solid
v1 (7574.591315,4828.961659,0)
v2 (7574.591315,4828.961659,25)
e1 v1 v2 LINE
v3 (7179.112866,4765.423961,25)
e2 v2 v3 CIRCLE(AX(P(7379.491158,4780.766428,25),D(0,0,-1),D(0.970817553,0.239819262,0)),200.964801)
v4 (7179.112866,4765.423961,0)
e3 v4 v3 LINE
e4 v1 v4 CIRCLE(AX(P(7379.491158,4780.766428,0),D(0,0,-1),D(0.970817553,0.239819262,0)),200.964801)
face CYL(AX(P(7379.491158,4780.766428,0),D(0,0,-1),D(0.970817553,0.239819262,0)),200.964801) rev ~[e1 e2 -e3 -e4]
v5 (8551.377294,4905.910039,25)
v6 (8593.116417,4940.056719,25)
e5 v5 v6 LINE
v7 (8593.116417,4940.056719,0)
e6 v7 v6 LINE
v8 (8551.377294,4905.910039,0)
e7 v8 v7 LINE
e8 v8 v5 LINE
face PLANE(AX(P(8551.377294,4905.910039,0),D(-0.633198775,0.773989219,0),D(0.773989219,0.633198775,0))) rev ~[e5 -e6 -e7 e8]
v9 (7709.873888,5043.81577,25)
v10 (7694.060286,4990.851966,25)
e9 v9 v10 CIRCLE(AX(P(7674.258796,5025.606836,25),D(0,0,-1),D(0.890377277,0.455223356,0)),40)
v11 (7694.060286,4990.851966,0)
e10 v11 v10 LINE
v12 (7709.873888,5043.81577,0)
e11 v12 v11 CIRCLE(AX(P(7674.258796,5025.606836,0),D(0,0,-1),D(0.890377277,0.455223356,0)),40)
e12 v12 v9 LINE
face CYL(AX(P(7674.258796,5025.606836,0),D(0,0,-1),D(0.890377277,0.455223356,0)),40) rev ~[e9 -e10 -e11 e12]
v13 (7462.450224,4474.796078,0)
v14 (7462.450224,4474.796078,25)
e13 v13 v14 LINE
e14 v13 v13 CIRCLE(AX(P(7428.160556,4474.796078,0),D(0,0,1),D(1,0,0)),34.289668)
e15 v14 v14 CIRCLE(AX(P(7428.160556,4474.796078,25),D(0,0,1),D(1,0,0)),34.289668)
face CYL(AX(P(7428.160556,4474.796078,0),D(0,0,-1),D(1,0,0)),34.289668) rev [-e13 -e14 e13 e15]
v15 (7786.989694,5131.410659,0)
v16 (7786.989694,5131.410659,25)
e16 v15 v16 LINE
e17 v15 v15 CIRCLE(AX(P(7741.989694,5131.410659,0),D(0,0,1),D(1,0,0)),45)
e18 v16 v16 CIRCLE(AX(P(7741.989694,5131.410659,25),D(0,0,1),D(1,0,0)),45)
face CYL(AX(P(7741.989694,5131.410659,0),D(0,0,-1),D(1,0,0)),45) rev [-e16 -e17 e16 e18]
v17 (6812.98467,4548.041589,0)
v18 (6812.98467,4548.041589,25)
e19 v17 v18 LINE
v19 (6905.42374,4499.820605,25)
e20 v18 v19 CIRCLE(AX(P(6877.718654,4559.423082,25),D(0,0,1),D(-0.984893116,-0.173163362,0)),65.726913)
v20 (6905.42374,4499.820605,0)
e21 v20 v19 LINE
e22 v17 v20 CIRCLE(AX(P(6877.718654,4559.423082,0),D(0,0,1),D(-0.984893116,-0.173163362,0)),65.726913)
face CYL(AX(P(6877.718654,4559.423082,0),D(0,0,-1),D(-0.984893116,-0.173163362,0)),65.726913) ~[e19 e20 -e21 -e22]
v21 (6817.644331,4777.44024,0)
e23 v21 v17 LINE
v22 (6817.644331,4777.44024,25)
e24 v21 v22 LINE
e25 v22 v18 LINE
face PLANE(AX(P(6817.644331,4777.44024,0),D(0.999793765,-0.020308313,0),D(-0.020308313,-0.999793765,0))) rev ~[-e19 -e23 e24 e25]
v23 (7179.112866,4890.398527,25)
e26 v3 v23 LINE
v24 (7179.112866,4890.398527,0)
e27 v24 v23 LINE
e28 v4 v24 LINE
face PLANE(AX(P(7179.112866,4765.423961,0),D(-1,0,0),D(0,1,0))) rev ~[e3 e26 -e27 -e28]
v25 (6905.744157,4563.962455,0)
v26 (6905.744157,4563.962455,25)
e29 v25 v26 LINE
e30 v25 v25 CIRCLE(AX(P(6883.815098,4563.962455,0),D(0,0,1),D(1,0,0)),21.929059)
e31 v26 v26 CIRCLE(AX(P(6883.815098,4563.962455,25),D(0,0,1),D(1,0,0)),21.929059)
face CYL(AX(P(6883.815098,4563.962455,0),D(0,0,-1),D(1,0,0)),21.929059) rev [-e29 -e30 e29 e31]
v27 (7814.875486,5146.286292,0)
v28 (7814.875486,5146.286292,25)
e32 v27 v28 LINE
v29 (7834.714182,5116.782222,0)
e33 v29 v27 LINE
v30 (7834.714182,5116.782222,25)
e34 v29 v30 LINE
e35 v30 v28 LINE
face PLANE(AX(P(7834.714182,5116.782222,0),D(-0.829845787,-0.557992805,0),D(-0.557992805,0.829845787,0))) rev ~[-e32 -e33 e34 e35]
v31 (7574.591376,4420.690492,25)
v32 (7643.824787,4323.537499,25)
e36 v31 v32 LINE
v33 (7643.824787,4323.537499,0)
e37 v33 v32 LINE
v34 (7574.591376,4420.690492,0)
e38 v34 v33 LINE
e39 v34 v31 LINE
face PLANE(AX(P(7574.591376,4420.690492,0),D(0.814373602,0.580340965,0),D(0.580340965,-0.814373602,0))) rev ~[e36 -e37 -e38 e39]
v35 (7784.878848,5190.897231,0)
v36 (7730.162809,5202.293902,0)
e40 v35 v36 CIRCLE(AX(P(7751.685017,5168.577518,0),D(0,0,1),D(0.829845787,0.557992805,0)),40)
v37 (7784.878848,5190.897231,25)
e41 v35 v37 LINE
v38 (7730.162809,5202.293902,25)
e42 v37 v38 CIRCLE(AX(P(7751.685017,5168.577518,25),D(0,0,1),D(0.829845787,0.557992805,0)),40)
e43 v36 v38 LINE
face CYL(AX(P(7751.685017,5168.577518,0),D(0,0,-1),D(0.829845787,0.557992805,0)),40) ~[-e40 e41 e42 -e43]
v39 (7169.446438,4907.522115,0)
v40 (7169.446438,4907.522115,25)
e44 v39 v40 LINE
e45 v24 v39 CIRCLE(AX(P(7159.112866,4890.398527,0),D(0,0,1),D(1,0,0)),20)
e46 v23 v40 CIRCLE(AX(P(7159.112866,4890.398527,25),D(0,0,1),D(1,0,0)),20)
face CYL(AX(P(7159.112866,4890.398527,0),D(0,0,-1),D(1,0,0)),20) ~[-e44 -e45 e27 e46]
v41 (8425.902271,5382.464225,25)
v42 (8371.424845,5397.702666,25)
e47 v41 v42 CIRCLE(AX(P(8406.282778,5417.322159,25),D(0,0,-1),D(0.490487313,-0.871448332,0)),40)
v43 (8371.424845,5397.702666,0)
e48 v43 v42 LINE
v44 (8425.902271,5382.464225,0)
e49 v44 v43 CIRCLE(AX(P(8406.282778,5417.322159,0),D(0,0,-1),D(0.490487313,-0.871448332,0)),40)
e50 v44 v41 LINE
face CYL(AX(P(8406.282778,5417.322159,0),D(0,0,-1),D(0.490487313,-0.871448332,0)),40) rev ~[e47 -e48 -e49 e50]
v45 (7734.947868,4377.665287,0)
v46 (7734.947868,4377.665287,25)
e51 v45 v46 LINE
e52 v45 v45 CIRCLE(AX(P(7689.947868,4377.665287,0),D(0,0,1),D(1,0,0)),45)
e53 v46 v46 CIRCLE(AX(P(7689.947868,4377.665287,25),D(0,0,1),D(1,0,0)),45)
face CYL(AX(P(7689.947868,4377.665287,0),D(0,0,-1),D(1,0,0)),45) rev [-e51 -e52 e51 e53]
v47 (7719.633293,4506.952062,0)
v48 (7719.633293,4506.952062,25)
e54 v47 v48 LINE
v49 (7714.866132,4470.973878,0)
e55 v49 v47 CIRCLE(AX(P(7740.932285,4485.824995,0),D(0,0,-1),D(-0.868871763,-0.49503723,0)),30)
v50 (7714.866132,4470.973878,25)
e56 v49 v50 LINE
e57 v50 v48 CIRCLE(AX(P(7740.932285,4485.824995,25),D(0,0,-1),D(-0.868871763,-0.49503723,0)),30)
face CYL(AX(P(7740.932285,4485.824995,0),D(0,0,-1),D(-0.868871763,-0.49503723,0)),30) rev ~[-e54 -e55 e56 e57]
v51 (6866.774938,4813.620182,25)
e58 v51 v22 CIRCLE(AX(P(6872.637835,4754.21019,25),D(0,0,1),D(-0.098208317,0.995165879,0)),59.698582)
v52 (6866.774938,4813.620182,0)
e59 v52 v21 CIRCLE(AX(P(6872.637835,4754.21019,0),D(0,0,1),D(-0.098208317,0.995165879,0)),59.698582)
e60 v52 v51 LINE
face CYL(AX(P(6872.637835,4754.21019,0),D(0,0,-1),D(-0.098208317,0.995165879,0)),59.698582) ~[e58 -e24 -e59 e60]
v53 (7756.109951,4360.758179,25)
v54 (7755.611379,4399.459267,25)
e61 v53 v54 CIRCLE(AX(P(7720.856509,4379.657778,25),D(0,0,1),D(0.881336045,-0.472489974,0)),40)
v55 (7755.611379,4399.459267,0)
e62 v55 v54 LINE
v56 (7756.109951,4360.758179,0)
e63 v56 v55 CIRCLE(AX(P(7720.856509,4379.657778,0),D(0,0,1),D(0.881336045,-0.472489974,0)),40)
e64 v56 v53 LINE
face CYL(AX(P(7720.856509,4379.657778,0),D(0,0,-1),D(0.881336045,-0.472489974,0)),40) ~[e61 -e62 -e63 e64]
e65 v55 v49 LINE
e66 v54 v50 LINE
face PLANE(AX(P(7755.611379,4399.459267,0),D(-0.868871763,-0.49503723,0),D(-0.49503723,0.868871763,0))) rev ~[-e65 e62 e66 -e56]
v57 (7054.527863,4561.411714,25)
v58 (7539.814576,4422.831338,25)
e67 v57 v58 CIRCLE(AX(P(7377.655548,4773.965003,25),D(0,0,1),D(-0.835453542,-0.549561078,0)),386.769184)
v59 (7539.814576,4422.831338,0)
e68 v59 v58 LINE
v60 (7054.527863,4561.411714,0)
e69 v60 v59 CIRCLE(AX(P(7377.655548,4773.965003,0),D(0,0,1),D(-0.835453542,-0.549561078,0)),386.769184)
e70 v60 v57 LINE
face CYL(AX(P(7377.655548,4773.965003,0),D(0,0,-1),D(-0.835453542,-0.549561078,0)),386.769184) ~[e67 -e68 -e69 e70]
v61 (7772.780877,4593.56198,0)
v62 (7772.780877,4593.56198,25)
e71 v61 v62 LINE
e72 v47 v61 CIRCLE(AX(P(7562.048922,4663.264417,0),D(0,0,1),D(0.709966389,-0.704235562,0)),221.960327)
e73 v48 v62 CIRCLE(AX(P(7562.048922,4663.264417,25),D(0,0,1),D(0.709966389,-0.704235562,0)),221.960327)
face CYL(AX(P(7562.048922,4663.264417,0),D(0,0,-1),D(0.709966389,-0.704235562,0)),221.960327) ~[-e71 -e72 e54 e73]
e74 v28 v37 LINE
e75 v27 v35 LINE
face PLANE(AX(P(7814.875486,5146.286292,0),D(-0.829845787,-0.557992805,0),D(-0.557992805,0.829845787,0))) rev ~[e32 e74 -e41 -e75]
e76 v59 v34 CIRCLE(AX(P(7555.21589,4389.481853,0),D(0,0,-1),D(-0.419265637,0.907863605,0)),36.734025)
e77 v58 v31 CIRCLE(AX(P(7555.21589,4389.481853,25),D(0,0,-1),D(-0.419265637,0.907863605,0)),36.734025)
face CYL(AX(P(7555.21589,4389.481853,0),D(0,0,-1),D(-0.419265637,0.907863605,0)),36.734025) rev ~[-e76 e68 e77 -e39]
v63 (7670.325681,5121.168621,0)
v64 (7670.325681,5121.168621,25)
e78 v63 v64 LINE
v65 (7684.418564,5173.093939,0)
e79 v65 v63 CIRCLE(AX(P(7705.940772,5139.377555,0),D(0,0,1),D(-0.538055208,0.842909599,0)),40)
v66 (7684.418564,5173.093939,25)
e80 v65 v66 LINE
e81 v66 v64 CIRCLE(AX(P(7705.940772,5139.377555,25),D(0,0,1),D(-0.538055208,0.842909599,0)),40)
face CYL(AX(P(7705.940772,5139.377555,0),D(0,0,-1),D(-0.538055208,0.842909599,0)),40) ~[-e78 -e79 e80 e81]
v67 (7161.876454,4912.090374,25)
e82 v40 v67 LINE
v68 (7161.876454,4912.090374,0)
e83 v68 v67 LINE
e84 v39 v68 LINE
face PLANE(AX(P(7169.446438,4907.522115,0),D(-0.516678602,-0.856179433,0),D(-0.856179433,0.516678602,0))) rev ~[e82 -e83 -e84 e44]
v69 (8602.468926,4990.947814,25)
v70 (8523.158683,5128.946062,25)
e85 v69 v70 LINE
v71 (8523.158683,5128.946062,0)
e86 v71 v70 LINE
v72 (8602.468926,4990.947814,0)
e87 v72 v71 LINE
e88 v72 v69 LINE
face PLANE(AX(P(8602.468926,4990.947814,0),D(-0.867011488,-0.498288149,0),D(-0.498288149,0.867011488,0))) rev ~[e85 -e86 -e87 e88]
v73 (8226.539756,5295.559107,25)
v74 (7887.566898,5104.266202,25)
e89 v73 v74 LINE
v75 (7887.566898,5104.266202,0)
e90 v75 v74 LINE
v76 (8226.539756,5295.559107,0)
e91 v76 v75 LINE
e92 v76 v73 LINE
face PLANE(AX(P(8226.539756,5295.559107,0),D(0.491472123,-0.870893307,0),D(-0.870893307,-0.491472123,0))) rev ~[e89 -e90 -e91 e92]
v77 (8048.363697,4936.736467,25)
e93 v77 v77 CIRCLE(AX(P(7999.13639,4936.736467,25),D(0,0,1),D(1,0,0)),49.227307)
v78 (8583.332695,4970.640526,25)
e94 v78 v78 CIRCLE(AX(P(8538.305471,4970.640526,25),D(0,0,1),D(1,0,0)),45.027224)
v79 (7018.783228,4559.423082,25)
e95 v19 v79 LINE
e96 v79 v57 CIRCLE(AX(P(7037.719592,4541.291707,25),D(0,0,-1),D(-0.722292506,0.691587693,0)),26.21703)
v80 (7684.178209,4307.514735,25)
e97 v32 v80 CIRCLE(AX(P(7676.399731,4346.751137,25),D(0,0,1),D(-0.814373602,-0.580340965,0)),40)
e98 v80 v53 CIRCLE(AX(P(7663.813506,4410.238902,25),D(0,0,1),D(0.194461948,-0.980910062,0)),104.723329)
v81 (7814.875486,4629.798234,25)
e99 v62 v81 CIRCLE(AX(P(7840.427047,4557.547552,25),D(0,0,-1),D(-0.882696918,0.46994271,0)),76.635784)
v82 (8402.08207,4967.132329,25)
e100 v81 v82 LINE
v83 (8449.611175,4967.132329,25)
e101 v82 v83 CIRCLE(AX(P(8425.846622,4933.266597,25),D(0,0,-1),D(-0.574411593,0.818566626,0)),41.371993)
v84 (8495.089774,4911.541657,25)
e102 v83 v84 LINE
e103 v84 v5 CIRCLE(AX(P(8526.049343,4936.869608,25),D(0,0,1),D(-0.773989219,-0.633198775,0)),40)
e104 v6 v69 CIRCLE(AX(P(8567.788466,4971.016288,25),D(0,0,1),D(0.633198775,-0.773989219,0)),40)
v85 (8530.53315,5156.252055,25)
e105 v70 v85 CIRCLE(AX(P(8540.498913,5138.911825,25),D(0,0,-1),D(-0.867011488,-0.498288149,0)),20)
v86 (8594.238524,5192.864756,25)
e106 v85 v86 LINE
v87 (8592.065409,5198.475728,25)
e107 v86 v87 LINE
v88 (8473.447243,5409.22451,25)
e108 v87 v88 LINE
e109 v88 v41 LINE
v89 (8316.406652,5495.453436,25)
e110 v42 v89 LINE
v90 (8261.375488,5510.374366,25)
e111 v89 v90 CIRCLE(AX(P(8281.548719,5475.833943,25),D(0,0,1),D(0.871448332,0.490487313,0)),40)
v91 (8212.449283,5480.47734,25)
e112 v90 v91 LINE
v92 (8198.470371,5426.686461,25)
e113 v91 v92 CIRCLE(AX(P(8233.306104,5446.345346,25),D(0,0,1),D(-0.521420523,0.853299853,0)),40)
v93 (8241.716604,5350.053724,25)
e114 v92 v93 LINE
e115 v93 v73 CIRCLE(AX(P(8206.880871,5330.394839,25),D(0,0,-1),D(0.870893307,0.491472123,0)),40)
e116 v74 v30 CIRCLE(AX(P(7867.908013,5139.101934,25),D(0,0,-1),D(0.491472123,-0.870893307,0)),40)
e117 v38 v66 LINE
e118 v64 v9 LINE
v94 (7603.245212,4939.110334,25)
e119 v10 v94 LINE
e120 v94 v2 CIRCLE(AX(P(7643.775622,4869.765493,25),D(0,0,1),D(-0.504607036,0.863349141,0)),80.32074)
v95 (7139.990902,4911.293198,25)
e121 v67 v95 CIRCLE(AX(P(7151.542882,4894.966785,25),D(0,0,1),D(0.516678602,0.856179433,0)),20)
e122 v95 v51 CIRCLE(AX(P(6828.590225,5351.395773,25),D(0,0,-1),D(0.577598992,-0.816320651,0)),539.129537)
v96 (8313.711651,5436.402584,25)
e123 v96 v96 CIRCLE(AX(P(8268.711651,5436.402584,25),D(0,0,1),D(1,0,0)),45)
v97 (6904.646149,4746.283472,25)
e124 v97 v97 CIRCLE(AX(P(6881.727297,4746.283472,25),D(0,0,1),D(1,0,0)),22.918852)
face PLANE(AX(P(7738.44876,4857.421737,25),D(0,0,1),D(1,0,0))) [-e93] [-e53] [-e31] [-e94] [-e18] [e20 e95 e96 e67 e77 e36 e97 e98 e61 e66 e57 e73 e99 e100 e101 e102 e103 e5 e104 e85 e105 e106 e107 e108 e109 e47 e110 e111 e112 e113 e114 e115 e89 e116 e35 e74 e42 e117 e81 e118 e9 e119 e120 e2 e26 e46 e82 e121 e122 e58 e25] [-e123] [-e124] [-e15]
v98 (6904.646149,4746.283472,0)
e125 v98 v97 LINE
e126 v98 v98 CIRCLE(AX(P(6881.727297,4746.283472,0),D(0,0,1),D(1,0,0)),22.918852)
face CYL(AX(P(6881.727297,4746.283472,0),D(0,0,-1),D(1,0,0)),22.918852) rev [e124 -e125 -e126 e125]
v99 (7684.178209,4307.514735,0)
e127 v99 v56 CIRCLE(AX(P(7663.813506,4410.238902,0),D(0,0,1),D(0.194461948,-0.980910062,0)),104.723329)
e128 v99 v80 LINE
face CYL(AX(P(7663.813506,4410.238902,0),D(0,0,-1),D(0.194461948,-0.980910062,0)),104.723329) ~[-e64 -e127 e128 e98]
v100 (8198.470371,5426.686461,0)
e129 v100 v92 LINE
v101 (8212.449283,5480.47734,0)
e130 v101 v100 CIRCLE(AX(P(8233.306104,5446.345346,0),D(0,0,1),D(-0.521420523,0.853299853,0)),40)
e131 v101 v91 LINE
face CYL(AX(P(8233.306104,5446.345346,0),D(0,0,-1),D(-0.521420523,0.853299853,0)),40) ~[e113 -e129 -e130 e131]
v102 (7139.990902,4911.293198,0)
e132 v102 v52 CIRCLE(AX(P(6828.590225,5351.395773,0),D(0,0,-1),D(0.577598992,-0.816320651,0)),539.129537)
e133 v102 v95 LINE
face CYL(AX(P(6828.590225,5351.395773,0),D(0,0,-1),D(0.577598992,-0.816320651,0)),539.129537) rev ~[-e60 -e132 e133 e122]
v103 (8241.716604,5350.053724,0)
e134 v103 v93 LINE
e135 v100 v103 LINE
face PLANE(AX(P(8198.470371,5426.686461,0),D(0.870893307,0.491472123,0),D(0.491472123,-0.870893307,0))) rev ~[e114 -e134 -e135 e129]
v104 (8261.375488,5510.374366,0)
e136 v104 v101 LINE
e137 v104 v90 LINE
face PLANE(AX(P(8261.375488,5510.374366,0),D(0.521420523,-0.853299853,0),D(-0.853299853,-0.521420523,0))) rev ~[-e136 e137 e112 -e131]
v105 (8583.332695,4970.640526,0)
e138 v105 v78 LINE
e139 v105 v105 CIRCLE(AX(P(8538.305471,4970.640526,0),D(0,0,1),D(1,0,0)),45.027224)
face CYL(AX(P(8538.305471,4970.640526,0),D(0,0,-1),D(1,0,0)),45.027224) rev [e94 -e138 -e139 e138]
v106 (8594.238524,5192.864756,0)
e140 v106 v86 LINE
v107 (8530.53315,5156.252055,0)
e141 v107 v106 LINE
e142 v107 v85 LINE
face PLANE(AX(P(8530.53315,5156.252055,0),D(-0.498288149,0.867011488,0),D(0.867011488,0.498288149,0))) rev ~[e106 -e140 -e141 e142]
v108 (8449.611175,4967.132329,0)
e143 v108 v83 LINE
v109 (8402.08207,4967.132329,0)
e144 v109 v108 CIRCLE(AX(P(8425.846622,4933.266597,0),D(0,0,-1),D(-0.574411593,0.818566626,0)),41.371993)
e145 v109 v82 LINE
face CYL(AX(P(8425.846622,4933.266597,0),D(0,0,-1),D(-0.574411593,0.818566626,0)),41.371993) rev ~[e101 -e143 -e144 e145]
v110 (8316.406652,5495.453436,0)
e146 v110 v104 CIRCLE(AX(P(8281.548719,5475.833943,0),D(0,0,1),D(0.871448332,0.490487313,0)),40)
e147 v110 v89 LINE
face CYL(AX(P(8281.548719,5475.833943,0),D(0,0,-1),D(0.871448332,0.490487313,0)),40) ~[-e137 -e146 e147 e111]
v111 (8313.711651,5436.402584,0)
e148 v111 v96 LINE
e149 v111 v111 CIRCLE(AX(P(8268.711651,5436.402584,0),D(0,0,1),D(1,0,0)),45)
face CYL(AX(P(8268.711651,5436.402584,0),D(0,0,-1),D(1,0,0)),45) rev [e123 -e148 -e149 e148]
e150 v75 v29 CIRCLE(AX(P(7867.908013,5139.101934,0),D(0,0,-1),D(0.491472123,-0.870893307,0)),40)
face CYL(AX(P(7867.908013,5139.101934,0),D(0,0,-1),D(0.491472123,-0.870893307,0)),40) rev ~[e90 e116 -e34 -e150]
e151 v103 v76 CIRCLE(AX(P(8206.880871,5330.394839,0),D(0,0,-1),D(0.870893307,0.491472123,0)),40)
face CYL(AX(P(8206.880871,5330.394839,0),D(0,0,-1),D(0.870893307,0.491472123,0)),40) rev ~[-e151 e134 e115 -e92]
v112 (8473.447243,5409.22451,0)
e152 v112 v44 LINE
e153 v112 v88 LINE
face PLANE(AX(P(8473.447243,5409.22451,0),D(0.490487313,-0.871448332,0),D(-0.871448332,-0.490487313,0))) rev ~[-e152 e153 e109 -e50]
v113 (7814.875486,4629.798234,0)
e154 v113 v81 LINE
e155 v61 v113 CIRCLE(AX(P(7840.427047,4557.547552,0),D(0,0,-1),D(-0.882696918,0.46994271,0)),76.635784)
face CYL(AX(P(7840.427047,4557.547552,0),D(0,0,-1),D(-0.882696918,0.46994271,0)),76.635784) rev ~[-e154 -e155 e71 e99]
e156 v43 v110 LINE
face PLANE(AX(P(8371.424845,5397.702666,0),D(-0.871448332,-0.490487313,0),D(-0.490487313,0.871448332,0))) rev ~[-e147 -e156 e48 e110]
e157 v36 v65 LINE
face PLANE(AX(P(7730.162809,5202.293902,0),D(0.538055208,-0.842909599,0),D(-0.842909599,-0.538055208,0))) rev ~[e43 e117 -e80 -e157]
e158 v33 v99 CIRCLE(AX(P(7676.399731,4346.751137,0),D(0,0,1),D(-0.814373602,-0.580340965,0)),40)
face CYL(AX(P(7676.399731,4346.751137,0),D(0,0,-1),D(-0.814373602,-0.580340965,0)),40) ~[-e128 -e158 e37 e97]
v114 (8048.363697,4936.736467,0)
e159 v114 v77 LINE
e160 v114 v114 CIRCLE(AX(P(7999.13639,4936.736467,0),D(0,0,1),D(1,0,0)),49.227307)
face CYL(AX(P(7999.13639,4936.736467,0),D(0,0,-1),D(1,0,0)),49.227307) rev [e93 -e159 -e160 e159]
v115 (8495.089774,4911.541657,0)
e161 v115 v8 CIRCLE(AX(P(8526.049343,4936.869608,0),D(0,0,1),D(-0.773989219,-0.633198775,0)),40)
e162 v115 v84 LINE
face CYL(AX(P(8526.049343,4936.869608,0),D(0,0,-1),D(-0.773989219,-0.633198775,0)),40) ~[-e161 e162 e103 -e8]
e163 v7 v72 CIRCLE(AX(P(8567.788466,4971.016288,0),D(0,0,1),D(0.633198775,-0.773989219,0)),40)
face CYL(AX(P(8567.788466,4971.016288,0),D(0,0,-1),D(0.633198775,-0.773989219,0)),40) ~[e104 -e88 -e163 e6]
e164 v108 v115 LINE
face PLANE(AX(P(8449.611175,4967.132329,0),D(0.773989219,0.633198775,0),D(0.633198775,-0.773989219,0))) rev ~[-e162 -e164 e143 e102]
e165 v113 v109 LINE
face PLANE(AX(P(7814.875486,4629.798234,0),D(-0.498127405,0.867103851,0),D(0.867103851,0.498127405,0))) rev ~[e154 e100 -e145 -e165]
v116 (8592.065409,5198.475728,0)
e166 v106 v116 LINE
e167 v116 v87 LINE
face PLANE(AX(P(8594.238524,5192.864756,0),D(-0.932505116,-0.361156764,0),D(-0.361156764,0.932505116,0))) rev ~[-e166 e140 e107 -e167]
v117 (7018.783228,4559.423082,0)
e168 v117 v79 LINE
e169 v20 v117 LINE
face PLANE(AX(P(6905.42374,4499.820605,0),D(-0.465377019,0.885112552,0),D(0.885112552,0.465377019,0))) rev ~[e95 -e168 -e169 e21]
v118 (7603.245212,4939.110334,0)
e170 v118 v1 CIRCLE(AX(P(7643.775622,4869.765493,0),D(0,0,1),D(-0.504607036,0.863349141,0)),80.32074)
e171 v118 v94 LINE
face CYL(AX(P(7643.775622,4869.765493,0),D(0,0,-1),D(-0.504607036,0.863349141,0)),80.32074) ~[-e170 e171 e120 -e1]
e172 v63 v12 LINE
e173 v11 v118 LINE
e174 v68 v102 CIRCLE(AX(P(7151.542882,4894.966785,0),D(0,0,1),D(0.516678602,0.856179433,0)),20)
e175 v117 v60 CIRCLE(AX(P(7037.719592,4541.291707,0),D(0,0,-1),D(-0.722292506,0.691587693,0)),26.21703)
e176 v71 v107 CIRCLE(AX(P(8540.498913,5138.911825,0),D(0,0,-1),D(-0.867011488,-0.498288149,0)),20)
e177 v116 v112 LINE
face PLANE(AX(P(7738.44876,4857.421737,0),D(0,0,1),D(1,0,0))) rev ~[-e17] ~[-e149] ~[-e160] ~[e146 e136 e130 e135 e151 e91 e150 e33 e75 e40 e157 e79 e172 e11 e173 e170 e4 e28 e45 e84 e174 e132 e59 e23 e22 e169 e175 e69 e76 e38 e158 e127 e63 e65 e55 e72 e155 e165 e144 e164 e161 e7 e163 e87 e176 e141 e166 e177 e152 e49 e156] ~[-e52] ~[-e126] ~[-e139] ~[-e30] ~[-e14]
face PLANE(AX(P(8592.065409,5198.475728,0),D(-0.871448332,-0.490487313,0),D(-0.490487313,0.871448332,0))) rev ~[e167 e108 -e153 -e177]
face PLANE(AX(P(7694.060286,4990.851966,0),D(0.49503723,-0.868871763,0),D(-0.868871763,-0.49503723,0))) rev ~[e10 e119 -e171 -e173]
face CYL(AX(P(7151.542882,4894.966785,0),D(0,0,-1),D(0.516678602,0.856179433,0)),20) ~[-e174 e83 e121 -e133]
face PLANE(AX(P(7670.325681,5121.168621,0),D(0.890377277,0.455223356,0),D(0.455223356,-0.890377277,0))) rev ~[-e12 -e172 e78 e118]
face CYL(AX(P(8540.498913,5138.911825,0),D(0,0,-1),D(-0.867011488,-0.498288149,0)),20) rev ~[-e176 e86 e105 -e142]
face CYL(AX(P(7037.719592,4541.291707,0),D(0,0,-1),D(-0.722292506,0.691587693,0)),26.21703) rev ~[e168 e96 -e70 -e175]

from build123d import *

# Parameters (mm, degrees)
ESBO_O1_R                = 49.227306986
ESBO_O1_R_2              = 45.027223586
ESBO_O1_R_3              = 34.289668097
ESBO_O1_R_4              = 45
ESBO_O1_R_5              = 22.918852427
ESBO_O1_R_6              = 21.929059038
RESSALTO_EXTRUS_O1_DEPTH = 25


with BuildPart() as part:
    # Esboço1 → Ressalto-extrusão1 (new body)
    with BuildSketch(Plane.XY):
        with BuildLine():
            Line((8592.065409332, 5198.475728322), (8473.447242619, 5409.224509958))
            Line((8473.447242619, 5409.224509958), (8425.902270717, 5382.464225227))
            ThreePointArc((8425.902270717, 5382.464225227), (8395.507573393, 5378.800801313), (8371.424844911, 5397.702666012))
            Line((8371.424844911, 5397.702666012), (8316.40665203, 5495.453435889))
            ThreePointArc((8316.40665203, 5495.453435889), (8292.016223819, 5514.440048301), (8261.375488437, 5510.374365776))
            Line((8261.375488437, 5510.374365776), (8212.449282848, 5480.477339997))
            ThreePointArc((8212.449282848, 5480.477339997), (8194.592026382, 5456.406171561), (8198.470371474, 5426.686460968))
            Line((8198.470371474, 5426.686460968), (8241.716603514, 5350.053723792))
            ThreePointArc((8241.716603514, 5350.053723792), (8245.414384596, 5319.663187185), (8226.539756155, 5295.559106588))
            Line((8226.539756155, 5295.559106588), (7887.56689815, 5104.266202112))
            ThreePointArc((7887.56689815, 5104.266202112), (7858.690563236, 5100.178437433), (7834.71418175, 5116.782222212))
            Line((7834.71418175, 5116.782222212), (7814.875485509, 5146.286291727))
            Line((7814.875485509, 5146.286291727), (7784.878848462, 5190.897230564))
            ThreePointArc((7784.878848462, 5190.897230564), (7759.841470177, 5207.737092835), (7730.162808648, 5202.293902357))
            Line((7730.162808648, 5202.293902357), (7684.418563925, 5173.093939339))
            ThreePointArc((7684.418563925, 5173.093939339), (7667.337308495, 5149.854796663), (7670.325681174, 5121.168621105))
            Line((7670.325681174, 5121.168621105), (7709.87388758, 5043.81577039))
            ThreePointArc((7709.87388758, 5043.81577039), (7712.586860583, 5014.16308224), (7694.060285678, 4990.851965593))
            Line((7694.060285678, 4990.851965593), (7603.245211769, 4939.110334103))
            ThreePointArc((7603.245211769, 4939.110334103), (7566.042022636, 4889.986984267), (7574.591315044, 4828.961658539))
            ThreePointArc((7574.591315044, 4828.961658539), (7411.369433565, 4582.346099234), (7179.112865973, 4765.423961074))
            Line((7179.112865973, 4765.423961074), (7179.112865973, 4890.398526732))
            ThreePointArc((7179.112865973, 4890.398526732), (7176.529401806, 4900.23032614), (7169.446438014, 4907.522115401))
            Line((7169.446438014, 4907.522115401), (7161.87645403, 4912.09037363))
            ThreePointArc((7161.87645403, 4912.09037363), (7150.814869868, 4914.953530528), (7139.99090215, 4911.293197972))
            ThreePointArc((7139.99090215, 4911.293197972), (7010.077113446, 4843.731348706), (6866.77493755, 4813.620182095))
            ThreePointArc((6866.77493755, 4813.620182095), (6837.238365249, 4802.28095325), (6817.644330707, 4777.440240208))
            Line((6817.644330707, 4777.440240208), (6812.984670077, 4548.041588809))
            ThreePointArc((6812.984670077, 4548.041588809), (6847.319630156, 4501.148504338), (6905.423739633, 4499.820604987))
            Line((6905.423739633, 4499.820604987), (7018.783227578, 4559.423081996))
            ThreePointArc((7018.783227578, 4559.423081996), (7036.263274842, 4567.468257298), (7054.527862902, 4561.411713646))
            ThreePointArc((7054.527862902, 4561.411713646), (7271.453583291, 4402.062402746), (7539.814575965, 4422.831337767))
            ThreePointArc((7539.814575965, 4422.831337767), (7557.472949269, 4426.146472293), (7574.591376366, 4420.690492236))
            Line((7574.591376366, 4420.690492236), (7643.824786877, 4323.537498877))
            ThreePointArc((7643.824786877, 4323.537498877), (7661.638348099, 4309.574510741), (7684.1782089, 4307.51473498))
            ThreePointArc((7684.1782089, 4307.51473498), (7726.117997258, 4326.065711445), (7756.109950671, 4360.758179011))
            ThreePointArc((7756.109950671, 4360.758179011), (7760.853190032, 4380.173039859), (7755.611379393, 4399.459267136))
            Line((7755.611379393, 4399.459267136), (7714.866132222, 4470.97387784))
            ThreePointArc((7714.866132222, 4470.97387784), (7711.192216927, 4489.765596658), (7719.63329346, 4506.952061587))
            ThreePointArc((7719.63329346, 4506.952061587), (7751.230180611, 4547.174632919), (7772.780877122, 4593.561980354))
            ThreePointArc((7772.780877122, 4593.561980354), (7790.429838997, 4615.627863403), (7814.875485509, 4629.798234485))
            Line((7814.875485509, 4629.798234485), (8402.08207018, 4967.132328945))
            ThreePointArc((8402.08207018, 4967.132328945), (8425.846622391, 4974.638589154), (8449.611174603, 4967.132328945))
            Line((8449.611174603, 4967.132328945), (8495.089773791, 4911.541656895))
            ThreePointArc((8495.089773791, 4911.541656895), (8522.067187452, 4897.068320984), (8551.377293559, 4905.910039154))
            Line((8551.377293559, 4905.910039154), (8593.116417231, 4940.056718911))
            ThreePointArc((8593.116417231, 4940.056718911), (8607.129643298, 4963.786364709), (8602.468925751, 4990.947813611))
            Line((8602.468925751, 4990.947813611), (8523.158682911, 5128.94606196))
            ThreePointArc((8523.158682911, 5128.94606196), (8521.190660044, 5144.12636041), (8530.533149704, 5156.2520547))
            Line((8530.533149704, 5156.2520547), (8594.238523916, 5192.864756379))
            Line((8594.238523916, 5192.864756379), (8592.065409332, 5198.475728322))
        make_face()
        with Locations((7999.136389936, 4936.736467004)):
            Circle(ESBO_O1_R, mode=Mode.SUBTRACT)
        with Locations((8538.305471244, 4970.64052635)):
            Circle(ESBO_O1_R_2, mode=Mode.SUBTRACT)
        with Locations((7428.160556208, 4474.796077944)):
            Circle(ESBO_O1_R_3, mode=Mode.SUBTRACT)
        with Locations((7689.94786831, 4377.665287462)):
            Circle(ESBO_O1_R_4, mode=Mode.SUBTRACT)
        with Locations((6881.727296698, 4746.283471792)):
            Circle(ESBO_O1_R_5, mode=Mode.SUBTRACT)
        with Locations((6883.815097675, 4563.962455068)):
            Circle(ESBO_O1_R_6, mode=Mode.SUBTRACT)
        with Locations((7741.989693859, 5131.410658858)):
            Circle(ESBO_O1_R_4, mode=Mode.SUBTRACT)
        with Locations((8268.711651115, 5436.402584307)):
            Circle(ESBO_O1_R_4, mode=Mode.SUBTRACT)
    extrude(amount=RESSALTO_EXTRUS_O1_DEPTH)


solid = part.part
